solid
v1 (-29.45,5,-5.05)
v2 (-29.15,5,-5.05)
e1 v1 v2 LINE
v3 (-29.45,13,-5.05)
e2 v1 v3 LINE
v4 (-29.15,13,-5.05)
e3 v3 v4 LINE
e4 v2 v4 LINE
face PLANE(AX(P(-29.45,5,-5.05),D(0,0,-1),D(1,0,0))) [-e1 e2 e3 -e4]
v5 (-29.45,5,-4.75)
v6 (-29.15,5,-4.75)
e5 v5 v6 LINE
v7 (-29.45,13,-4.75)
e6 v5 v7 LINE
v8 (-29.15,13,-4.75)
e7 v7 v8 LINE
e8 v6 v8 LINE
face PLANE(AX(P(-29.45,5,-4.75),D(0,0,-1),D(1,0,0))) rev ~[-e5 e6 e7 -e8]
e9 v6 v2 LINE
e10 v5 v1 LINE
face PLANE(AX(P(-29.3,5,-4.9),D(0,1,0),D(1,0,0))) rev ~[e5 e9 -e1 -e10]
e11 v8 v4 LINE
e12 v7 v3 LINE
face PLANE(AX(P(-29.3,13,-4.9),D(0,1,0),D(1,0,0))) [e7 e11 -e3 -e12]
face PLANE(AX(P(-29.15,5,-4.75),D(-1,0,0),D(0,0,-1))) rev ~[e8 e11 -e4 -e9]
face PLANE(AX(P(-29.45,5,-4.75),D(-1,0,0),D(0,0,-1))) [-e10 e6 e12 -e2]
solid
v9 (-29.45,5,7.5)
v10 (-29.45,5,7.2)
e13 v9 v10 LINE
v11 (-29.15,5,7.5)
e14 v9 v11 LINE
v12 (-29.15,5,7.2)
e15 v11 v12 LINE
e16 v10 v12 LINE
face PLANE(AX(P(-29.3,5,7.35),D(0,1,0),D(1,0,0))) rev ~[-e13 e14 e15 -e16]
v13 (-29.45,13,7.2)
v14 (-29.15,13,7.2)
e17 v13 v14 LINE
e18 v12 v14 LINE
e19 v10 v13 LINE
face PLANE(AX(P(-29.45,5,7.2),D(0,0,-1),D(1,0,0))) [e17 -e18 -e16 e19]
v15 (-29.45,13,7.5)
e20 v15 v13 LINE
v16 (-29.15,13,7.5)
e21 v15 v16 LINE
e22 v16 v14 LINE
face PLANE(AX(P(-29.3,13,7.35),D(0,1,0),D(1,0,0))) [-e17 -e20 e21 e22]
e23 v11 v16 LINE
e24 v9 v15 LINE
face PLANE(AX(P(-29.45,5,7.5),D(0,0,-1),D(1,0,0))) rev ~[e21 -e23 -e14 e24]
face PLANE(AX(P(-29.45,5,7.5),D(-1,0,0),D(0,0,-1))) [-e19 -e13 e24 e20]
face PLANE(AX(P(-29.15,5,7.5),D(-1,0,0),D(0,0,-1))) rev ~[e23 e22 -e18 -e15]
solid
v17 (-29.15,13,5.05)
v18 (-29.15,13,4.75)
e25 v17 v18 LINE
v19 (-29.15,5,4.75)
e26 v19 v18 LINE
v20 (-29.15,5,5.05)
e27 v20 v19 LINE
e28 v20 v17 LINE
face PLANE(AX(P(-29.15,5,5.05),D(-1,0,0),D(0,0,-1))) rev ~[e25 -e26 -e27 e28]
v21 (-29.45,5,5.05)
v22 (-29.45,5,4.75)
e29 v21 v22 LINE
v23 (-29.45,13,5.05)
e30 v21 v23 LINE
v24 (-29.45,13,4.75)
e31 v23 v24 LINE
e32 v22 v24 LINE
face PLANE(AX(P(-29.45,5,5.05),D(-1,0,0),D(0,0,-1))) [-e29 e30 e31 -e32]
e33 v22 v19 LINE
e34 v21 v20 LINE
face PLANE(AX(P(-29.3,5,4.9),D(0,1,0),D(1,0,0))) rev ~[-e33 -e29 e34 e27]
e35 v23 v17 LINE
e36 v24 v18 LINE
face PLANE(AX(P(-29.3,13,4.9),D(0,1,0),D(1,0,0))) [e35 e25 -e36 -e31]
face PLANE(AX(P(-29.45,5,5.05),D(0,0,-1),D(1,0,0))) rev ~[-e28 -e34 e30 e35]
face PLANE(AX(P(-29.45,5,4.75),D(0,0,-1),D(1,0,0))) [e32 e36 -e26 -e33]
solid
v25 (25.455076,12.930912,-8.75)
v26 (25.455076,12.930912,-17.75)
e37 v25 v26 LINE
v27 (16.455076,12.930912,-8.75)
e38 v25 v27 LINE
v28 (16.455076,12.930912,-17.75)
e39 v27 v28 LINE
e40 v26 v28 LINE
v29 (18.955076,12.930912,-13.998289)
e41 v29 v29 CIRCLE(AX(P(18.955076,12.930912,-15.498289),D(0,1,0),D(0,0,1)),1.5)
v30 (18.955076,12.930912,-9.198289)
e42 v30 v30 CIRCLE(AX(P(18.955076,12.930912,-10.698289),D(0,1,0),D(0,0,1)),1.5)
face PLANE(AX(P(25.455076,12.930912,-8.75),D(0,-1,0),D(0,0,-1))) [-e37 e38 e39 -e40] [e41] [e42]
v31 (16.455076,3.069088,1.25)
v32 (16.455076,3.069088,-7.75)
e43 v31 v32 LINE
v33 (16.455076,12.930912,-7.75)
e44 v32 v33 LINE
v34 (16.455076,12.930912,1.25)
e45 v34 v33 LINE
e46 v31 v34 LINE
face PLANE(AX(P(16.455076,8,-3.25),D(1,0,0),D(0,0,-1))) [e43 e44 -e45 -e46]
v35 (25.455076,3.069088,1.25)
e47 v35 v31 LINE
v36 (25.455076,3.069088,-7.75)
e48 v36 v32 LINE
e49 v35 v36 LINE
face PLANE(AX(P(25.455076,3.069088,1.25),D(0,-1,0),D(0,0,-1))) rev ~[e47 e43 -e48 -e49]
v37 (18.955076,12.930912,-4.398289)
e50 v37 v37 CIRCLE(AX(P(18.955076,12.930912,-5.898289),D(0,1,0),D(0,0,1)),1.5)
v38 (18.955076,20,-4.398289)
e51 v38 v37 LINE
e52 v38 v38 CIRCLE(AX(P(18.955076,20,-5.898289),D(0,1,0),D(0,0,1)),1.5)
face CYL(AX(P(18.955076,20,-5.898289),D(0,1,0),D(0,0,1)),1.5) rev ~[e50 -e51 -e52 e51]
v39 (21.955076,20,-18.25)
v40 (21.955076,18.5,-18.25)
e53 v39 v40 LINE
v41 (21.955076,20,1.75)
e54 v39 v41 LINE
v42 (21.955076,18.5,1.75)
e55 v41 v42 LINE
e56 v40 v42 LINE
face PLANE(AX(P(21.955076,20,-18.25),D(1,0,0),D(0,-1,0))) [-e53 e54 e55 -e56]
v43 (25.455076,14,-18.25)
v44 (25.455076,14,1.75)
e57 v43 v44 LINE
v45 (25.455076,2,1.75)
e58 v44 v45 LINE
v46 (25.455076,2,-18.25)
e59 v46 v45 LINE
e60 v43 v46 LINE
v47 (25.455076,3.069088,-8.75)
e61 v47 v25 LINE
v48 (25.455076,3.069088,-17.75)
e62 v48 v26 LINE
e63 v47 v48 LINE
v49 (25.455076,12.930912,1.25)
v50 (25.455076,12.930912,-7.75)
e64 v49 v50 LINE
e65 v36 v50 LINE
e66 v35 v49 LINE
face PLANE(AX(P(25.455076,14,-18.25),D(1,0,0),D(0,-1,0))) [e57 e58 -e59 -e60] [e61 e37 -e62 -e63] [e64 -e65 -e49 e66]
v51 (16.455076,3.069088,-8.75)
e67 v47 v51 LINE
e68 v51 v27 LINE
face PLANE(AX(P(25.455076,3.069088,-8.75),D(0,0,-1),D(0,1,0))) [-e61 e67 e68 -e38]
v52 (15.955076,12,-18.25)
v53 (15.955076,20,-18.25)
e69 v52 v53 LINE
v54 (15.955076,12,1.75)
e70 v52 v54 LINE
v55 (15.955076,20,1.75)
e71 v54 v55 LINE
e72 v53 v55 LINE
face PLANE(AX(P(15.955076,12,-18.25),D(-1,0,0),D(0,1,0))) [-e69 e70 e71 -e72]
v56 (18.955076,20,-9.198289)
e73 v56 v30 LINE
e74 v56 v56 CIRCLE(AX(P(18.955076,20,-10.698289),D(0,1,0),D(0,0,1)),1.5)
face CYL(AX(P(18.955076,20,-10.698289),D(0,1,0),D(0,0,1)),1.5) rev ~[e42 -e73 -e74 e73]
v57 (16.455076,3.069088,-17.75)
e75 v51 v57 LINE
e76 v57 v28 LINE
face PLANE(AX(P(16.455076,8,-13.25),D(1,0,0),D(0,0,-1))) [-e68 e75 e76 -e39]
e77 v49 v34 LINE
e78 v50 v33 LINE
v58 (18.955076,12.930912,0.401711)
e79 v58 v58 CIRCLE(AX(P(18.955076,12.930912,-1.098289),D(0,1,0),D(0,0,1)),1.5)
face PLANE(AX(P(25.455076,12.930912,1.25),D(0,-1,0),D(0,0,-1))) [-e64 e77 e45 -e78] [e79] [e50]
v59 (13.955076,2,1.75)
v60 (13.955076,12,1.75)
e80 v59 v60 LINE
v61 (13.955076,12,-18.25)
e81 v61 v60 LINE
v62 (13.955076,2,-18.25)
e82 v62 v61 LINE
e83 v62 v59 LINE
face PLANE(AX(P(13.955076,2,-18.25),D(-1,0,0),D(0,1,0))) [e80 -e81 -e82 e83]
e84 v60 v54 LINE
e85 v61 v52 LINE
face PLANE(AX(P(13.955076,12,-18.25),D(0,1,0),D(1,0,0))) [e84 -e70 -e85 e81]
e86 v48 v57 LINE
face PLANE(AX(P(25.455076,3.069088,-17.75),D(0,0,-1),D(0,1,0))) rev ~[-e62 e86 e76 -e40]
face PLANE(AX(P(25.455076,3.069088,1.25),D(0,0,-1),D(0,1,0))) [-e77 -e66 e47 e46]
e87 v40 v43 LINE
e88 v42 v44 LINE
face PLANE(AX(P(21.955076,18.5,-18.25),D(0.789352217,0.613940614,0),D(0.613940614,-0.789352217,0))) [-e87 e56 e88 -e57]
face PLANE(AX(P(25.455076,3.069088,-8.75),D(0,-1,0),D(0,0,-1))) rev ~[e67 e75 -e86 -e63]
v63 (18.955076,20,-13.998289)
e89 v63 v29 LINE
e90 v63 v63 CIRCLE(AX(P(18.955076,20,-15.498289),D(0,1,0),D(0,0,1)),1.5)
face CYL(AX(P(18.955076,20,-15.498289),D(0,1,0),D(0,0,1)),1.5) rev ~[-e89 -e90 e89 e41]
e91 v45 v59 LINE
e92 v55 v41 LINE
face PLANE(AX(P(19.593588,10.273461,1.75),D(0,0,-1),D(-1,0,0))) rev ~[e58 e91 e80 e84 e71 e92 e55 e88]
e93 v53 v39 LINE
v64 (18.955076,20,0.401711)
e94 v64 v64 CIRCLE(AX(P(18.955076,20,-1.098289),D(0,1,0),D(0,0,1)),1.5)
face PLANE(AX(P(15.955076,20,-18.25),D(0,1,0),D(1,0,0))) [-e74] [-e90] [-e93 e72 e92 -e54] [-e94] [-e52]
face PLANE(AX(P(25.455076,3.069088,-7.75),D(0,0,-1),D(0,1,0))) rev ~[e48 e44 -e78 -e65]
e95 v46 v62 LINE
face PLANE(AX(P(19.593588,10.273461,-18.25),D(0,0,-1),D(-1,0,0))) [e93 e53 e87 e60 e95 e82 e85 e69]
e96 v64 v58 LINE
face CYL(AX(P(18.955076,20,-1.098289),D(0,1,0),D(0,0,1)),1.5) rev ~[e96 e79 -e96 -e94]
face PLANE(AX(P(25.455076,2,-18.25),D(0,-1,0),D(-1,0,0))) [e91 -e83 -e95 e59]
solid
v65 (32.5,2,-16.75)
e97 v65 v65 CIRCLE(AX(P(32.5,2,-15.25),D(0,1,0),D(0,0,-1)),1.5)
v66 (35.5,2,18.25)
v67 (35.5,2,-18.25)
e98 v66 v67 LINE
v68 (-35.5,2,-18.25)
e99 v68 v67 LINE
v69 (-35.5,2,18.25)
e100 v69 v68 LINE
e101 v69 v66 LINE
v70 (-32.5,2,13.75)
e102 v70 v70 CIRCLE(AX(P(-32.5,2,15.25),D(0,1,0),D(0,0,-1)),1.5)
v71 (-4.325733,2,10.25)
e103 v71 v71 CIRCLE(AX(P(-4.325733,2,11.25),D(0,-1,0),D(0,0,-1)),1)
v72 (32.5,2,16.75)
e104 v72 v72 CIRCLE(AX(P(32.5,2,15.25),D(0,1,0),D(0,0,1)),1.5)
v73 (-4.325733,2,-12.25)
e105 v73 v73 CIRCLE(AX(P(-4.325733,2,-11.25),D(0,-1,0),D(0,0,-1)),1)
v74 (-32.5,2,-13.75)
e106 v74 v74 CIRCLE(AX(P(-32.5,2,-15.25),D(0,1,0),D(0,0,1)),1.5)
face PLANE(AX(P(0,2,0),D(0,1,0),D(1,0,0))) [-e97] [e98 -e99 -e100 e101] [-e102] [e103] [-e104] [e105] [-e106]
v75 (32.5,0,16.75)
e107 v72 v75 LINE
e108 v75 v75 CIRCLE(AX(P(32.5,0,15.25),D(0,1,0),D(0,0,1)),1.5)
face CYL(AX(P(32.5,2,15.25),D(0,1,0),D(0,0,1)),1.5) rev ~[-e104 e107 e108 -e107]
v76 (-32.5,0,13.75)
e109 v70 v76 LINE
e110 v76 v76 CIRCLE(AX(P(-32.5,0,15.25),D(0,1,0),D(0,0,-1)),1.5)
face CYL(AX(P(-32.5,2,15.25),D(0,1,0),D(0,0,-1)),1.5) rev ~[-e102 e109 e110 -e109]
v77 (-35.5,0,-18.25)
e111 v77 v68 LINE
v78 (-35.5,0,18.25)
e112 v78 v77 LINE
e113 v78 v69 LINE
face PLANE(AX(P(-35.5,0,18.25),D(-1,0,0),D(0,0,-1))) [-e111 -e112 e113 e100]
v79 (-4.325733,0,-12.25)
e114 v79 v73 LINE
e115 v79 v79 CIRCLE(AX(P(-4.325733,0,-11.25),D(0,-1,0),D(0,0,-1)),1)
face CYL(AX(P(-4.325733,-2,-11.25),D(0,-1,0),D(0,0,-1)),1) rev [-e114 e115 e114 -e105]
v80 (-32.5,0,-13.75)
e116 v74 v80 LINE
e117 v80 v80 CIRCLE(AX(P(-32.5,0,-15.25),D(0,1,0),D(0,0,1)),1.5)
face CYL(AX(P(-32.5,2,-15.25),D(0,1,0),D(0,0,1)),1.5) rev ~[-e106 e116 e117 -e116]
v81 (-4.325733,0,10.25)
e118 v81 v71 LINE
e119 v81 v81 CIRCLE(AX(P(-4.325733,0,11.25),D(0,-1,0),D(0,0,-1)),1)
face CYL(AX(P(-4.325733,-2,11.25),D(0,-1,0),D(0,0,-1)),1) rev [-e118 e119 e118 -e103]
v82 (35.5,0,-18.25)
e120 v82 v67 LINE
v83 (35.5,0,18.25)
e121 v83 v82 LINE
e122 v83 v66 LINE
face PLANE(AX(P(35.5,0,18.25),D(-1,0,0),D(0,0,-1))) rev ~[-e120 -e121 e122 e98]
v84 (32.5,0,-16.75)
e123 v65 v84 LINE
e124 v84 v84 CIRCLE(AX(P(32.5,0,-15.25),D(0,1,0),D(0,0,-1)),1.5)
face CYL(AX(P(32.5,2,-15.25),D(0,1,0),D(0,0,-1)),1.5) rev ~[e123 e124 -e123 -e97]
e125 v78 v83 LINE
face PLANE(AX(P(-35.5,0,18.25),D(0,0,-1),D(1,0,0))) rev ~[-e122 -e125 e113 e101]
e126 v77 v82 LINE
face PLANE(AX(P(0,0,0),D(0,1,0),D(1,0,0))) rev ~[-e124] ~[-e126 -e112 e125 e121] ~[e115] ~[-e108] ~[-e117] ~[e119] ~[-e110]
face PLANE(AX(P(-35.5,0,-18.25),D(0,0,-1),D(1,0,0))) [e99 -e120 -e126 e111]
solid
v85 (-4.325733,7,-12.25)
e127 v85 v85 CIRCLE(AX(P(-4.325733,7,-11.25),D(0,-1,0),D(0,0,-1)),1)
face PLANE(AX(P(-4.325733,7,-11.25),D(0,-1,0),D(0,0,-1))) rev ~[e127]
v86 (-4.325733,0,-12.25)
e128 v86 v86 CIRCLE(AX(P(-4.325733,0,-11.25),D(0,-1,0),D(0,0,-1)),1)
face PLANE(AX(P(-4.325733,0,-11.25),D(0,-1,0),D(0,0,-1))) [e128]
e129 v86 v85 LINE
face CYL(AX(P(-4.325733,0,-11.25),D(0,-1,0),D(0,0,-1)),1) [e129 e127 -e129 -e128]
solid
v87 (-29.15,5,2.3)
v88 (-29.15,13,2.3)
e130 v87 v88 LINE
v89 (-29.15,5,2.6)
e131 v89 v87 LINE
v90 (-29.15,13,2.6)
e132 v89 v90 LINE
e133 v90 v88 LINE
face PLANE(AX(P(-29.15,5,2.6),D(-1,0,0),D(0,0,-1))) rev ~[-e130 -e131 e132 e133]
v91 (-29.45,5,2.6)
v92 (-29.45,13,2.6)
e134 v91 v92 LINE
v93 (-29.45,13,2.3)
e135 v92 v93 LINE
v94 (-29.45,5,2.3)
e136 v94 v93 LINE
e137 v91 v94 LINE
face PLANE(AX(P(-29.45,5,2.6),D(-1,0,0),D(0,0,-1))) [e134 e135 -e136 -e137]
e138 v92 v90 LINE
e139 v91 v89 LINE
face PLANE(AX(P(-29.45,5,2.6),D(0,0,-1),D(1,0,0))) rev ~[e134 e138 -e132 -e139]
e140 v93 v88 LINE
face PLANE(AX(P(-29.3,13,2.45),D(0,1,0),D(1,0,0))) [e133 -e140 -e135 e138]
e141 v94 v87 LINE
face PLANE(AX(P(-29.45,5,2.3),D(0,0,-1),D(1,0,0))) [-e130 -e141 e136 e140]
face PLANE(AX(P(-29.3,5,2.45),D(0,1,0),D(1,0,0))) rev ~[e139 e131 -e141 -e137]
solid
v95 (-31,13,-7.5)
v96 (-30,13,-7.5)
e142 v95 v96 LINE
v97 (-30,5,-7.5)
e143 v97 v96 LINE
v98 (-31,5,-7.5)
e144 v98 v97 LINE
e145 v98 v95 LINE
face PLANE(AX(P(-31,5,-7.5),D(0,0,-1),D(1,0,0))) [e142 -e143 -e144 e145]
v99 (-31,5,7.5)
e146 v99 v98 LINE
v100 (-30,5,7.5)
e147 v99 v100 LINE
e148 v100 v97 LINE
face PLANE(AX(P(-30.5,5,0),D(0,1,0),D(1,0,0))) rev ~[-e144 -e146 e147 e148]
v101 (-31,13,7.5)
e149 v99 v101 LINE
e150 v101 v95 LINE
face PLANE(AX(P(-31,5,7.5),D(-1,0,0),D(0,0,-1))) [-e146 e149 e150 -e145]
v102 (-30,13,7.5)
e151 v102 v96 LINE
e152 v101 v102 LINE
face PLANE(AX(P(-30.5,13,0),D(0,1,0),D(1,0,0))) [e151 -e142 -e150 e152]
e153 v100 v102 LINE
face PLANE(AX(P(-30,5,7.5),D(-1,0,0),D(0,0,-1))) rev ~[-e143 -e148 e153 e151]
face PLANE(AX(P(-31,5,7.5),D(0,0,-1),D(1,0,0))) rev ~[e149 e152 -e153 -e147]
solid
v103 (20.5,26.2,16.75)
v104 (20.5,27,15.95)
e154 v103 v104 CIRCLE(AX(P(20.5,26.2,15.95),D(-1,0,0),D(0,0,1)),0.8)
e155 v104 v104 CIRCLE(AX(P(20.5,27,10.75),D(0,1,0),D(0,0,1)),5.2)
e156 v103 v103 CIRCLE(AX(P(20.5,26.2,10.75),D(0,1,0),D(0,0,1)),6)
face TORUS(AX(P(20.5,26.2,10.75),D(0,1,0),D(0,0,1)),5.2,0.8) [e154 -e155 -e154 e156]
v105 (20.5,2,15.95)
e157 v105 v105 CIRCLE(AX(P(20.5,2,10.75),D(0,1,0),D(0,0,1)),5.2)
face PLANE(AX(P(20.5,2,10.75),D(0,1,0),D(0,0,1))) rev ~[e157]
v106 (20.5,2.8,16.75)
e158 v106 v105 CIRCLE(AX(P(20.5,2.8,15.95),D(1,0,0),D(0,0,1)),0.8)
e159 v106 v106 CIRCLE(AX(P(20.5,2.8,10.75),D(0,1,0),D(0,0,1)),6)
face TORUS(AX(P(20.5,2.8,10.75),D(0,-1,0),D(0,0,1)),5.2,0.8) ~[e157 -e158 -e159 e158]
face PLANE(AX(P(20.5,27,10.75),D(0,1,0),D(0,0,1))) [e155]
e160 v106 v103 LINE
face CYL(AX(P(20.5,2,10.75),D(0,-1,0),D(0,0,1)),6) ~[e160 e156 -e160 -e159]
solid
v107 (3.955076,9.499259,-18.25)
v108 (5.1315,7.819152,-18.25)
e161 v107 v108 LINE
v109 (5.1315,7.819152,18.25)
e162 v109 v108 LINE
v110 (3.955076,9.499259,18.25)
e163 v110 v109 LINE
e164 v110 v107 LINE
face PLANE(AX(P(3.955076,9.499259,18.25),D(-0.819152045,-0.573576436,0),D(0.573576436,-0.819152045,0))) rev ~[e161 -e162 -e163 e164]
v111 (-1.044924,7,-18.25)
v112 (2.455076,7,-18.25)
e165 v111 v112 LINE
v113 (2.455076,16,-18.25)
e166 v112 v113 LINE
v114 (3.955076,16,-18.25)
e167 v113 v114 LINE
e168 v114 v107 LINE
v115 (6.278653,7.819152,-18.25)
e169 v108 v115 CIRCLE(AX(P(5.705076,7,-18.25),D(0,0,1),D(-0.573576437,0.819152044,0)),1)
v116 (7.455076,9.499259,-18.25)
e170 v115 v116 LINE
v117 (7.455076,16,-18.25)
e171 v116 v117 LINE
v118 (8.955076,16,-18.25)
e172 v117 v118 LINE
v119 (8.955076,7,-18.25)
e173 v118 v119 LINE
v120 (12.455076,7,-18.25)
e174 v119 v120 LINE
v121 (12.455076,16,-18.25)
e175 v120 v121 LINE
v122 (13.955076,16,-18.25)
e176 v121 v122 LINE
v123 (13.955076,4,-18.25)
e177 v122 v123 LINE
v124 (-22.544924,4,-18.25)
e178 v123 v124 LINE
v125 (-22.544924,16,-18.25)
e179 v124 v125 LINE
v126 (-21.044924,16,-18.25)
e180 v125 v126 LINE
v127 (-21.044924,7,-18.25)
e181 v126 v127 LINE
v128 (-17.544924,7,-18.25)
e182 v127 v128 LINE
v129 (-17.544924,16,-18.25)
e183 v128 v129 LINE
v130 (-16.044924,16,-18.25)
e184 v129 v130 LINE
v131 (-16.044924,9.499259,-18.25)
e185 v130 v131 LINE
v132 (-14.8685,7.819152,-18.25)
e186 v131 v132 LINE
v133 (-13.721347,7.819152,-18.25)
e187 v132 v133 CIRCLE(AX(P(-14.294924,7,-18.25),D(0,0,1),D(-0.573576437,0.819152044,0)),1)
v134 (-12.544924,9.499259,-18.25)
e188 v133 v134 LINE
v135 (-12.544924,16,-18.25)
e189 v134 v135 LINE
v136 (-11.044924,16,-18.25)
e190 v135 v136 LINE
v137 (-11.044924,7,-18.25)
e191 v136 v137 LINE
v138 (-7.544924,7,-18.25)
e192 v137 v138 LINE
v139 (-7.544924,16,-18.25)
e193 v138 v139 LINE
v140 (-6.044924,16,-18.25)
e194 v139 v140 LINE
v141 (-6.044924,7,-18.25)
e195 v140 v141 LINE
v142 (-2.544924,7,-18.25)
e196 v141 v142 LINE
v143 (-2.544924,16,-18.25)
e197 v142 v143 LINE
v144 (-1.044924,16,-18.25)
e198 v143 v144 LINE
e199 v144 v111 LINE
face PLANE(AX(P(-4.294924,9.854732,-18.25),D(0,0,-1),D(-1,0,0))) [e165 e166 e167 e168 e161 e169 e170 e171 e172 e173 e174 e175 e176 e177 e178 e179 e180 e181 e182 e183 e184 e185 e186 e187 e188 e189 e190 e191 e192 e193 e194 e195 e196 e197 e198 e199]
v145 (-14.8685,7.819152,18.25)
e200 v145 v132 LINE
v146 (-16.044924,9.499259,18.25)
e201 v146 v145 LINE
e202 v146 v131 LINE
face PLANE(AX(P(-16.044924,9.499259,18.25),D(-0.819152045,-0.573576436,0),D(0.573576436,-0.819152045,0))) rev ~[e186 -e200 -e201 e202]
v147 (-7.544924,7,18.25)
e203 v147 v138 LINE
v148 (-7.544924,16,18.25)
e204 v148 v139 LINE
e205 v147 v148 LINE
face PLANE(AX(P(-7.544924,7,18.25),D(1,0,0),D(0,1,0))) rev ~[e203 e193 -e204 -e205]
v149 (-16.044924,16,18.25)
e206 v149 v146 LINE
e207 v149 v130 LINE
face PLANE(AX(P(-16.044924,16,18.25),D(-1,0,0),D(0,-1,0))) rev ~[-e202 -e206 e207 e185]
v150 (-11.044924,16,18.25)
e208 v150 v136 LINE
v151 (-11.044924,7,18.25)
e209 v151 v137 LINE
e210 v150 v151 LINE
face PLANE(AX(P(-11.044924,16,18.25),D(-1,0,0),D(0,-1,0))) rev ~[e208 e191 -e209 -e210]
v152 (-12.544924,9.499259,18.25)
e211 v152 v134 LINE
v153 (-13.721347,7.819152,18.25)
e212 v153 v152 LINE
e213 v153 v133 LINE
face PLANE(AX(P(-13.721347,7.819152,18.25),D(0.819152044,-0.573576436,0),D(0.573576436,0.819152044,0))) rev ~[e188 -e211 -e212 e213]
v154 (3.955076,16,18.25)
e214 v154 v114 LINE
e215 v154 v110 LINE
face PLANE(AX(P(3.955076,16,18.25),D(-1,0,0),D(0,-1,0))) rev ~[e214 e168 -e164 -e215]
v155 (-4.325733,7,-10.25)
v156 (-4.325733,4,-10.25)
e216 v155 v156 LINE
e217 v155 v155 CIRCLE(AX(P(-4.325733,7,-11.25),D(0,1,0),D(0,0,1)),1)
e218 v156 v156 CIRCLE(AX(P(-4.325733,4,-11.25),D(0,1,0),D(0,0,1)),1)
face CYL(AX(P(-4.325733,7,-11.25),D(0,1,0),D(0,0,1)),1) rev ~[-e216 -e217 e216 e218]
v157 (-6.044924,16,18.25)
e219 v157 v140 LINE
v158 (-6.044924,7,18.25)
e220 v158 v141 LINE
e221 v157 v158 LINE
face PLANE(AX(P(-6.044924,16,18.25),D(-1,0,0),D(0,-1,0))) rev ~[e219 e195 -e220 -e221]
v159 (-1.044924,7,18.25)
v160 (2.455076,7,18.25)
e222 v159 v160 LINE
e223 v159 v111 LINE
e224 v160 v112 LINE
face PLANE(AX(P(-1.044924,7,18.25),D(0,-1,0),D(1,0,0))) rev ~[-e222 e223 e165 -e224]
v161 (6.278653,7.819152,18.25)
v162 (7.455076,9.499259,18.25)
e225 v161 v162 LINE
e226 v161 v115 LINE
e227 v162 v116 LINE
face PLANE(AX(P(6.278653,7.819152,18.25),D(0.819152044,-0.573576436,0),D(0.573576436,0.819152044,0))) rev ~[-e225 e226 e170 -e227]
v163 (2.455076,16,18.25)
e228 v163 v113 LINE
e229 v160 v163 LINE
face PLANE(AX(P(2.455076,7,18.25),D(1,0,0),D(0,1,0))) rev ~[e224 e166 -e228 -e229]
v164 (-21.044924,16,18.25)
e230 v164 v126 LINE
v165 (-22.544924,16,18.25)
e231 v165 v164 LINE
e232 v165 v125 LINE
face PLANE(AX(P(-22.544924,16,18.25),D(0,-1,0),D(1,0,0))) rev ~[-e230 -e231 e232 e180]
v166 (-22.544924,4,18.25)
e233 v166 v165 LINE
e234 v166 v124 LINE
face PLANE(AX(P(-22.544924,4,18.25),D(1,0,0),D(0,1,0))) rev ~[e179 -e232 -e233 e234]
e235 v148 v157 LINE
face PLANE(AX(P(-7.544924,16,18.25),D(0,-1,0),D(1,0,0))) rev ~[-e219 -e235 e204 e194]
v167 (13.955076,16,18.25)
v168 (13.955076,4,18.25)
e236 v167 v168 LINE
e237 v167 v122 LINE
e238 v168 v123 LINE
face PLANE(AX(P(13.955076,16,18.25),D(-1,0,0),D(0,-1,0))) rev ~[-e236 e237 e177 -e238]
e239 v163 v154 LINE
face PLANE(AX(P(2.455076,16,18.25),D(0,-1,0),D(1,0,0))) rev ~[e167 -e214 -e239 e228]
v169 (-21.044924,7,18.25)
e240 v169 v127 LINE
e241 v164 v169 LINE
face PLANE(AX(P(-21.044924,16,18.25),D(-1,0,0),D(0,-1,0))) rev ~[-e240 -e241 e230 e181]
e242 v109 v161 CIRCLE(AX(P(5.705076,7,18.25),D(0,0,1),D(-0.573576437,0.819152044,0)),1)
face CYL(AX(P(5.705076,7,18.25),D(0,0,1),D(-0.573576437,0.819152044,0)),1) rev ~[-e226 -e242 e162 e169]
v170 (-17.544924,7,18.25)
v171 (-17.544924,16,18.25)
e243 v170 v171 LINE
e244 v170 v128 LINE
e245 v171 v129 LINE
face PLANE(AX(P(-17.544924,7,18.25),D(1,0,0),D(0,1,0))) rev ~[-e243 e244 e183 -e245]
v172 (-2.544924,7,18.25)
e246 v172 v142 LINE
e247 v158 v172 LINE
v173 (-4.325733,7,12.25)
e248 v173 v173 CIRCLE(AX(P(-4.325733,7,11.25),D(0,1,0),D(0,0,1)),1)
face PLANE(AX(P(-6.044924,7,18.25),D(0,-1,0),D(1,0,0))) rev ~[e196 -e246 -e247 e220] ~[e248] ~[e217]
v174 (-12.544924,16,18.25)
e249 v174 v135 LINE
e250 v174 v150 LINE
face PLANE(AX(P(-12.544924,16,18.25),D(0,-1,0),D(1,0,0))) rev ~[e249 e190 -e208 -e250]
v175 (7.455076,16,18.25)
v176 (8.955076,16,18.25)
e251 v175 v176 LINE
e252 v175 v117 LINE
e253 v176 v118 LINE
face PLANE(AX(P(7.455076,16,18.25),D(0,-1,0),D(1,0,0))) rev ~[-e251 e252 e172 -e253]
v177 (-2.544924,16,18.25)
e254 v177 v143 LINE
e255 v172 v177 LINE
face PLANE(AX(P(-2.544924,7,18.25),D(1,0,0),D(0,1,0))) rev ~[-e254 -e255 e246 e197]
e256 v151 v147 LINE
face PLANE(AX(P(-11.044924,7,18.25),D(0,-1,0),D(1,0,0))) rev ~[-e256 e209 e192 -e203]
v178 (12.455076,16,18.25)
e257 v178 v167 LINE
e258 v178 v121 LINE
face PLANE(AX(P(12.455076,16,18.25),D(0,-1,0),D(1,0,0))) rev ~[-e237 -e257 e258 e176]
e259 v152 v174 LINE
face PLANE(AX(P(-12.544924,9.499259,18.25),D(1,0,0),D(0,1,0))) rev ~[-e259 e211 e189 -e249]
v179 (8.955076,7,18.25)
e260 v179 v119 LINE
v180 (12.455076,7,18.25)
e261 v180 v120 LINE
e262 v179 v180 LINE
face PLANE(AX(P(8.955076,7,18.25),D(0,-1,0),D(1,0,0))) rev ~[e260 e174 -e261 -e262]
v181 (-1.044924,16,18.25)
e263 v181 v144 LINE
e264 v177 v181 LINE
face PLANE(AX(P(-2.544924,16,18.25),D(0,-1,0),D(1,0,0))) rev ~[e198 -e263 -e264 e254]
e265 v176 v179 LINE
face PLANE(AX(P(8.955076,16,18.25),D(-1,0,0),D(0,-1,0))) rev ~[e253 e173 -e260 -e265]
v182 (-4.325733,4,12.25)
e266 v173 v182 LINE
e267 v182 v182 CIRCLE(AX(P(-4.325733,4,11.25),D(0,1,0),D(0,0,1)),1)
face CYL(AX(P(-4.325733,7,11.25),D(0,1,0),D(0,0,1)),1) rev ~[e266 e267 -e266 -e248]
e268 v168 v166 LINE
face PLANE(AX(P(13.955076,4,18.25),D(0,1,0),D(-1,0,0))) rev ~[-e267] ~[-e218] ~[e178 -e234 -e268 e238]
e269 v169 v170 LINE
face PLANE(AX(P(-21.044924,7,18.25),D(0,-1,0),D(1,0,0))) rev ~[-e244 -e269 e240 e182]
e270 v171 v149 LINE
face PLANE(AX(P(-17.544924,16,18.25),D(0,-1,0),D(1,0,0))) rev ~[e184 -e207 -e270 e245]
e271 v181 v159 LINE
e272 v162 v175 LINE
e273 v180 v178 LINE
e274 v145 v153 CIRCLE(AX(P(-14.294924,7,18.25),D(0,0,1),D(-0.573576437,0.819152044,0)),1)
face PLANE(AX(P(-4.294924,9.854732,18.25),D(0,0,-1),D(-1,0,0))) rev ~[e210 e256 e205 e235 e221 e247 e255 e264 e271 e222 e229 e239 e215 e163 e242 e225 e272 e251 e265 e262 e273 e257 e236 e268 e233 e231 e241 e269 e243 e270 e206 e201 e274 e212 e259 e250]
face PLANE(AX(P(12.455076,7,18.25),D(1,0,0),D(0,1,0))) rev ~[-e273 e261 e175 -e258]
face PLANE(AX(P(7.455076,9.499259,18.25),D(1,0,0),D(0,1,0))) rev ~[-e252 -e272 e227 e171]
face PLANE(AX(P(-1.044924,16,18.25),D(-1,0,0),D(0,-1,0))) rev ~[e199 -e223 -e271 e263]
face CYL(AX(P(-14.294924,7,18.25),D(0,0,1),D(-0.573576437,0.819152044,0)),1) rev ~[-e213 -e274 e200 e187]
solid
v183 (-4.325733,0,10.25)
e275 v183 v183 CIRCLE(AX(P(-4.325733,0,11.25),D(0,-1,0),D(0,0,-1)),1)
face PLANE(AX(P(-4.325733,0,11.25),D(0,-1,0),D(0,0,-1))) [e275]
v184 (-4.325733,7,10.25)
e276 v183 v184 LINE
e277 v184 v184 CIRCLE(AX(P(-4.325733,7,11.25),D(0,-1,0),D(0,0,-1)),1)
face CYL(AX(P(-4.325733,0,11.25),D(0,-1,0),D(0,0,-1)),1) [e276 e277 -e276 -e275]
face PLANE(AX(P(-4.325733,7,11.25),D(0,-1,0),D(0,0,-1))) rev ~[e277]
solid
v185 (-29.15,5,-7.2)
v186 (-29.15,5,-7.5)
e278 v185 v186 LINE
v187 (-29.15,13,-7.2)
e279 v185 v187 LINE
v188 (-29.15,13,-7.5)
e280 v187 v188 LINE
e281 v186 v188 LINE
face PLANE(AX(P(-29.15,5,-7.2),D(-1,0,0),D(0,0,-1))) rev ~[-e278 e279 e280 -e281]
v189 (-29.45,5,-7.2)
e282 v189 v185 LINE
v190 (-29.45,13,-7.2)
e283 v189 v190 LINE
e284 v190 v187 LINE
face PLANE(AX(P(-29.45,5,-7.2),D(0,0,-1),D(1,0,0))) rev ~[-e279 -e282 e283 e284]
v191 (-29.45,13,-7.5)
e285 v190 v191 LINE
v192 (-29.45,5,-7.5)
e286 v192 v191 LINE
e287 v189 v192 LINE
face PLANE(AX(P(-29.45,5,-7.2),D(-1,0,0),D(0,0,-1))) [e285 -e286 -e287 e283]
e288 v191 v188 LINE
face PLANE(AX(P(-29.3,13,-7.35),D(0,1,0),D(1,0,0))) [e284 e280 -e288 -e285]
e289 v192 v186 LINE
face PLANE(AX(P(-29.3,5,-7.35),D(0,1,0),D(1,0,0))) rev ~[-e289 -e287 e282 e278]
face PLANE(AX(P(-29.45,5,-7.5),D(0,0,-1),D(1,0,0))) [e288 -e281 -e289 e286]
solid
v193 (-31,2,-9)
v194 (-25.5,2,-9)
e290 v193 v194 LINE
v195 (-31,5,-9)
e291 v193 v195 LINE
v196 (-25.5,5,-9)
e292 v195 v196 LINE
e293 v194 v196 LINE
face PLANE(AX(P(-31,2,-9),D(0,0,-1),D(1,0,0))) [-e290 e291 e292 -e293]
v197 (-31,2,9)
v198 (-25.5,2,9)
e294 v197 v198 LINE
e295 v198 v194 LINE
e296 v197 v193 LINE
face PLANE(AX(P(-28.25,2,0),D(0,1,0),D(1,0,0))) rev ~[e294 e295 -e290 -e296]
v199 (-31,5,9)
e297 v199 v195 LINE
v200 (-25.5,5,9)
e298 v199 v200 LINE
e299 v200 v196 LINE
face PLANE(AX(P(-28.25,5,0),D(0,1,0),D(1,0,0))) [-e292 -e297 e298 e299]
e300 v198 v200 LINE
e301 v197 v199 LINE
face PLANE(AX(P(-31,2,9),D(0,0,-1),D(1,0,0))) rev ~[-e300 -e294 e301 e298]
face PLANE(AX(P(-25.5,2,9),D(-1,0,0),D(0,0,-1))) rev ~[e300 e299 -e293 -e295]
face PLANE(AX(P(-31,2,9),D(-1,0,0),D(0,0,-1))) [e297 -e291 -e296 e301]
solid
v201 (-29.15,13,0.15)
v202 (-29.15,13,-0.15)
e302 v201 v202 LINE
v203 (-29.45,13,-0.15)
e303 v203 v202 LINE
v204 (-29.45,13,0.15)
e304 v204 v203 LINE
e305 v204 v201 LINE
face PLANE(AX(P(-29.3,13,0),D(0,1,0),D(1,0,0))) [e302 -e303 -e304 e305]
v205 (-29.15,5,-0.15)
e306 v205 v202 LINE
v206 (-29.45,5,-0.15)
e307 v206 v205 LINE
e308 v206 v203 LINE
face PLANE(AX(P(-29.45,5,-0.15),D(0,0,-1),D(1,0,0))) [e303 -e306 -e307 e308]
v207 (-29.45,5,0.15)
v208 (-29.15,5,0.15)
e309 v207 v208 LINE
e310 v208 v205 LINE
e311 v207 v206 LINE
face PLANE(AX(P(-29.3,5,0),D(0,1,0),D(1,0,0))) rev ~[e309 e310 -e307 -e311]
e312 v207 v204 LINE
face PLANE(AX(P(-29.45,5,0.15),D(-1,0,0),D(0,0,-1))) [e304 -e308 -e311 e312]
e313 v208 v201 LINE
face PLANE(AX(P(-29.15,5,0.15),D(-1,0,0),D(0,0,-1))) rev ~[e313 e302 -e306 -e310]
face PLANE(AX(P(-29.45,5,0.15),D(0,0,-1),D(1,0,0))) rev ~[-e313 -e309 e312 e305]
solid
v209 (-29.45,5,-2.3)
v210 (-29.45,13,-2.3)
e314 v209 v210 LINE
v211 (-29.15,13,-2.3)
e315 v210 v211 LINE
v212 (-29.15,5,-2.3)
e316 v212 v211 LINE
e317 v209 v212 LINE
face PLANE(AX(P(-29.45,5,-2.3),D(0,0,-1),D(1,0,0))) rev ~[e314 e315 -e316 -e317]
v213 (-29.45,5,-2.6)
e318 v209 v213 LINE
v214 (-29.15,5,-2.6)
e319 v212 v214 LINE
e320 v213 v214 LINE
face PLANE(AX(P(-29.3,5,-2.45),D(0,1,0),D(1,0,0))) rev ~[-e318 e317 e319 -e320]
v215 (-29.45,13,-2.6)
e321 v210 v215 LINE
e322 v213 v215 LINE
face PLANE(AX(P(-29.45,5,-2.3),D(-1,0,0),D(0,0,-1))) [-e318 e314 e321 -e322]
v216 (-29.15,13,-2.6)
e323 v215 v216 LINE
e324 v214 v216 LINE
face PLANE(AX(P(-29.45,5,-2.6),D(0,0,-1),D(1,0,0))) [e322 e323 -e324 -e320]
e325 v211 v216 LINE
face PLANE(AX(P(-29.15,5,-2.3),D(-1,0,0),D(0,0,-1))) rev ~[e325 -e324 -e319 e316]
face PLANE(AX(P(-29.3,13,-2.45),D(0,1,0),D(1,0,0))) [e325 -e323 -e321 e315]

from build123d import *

# Parameters (mm, degrees)
SKETCH1_W             = 71
SKETCH1_H             = 36.5
BOARD_DEPTH           = 2
SKETCH2_R             = 1.5
SCREW_HOLES_DEPTH     = 2
FINS_DEPTH            = 36.5
SKETCH4_R             = 6
CAPACITOR_DEPTH       = 25
CAPACITOR_FILLET_R    = 0.8
FIN_SCREW_DEPTH       = 13
FIN_SCREW_DEPTH_BACK  = 4
SKETCH5_R             = 1
SKETCH7_R             = 1
FIN_SCREW_2_DEPTH     = 4
SKETCH8_W             = 5.5
SKETCH8_H             = 18
PIN_BASE_DEPTH        = 3
SKETCH9_W             = 1
SKETCH9_H             = 15
BOSS_EXTRUDE6_DEPTH   = 8
SKETCH10_W            = 0.3
SKETCH10_H            = 0.3
BOSS_EXTRUDE7_DEPTH   = 8
BOSS_EXTRUDE7_2_DEPTH = 8
BOSS_EXTRUDE7_3_DEPTH = 8
BOSS_EXTRUDE7_4_DEPTH = 8
BOSS_EXTRUDE7_5_DEPTH = 8
BOSS_EXTRUDE7_6_DEPTH = 8
BOSS_EXTRUDE7_7_DEPTH = 8
SKETCH11_R            = 1
BOSS_EXTRUDE8_DEPTH   = 7
BOSS_EXTRUDE8_2_DEPTH = 7
BOSS_EXTRUDE9_DEPTH   = 20
SKETCH13_W            = 9
SKETCH13_H            = 9.8618237
CUT_EXTRUDE1_DEPTH    = 9
SKETCH14_R            = 1.5
CUT_EXTRUDE2_DEPTH    = 9


with BuildPart() as part:
    # Sketch1 → Board (new body)
    with BuildSketch(Plane(origin=(0, 0, 0), x_dir=(1, 0, 0), z_dir=(0, 1, 0))):
        Rectangle(SKETCH1_W, SKETCH1_H)
    extrude(amount=BOARD_DEPTH)

    # Sketch2 → Screw Holes (cut)
    with BuildSketch(Plane(origin=(0, 2, 0), x_dir=(1, 0, 0), z_dir=(0, 1, 0))):
        with Locations(Location((-32.5, 15.25, 0), (0, 0, 270))):
            Circle(SKETCH2_R)
        with Locations(Location((32.5, 15.25, 0), (0, 0, 90))):
            Circle(SKETCH2_R)
        with Locations(Location((32.5, -15.25, 0), (0, 0, 270))):
            Circle(SKETCH2_R)
        with Locations(Location((-32.5, -15.25, 0), (0, 0, 90))):
            Circle(SKETCH2_R)
    extrude(amount=-SCREW_HOLES_DEPTH, mode=Mode.SUBTRACT)

    # Sketch5 → Fin Screw (cut, two sides: drawn at the far end of the back side and taken through both)
    with BuildSketch(Plane(origin=(0, 2, 0), x_dir=(1, 0, 0), z_dir=(0, 1, 0)).offset(-FIN_SCREW_DEPTH_BACK)):
        with Locations(Location((-4.325732544, 11.25, 0), (0, 0, 90))):
            Circle(SKETCH5_R)
        with Locations(Location((-4.325732544, -11.25, 0), (0, 0, 90))):
            Circle(SKETCH5_R)
    extrude(amount=FIN_SCREW_DEPTH + FIN_SCREW_DEPTH_BACK, mode=Mode.SUBTRACT)


with BuildPart() as body_2:
    # Sketch3 → Fins (new body)
    with BuildSketch(Plane.XY.offset(18.25)):
        with BuildLine():
            ThreePointArc((5.131499935, 7.819152044), (5.705076372, 6), (6.278652808, 7.819152044))
            Line((6.278652808, 7.819152044), (7.455076372, 9.499259012))
            Line((7.455076372, 9.499259012), (7.455076372, 16))
            Line((7.455076372, 16), (8.955076372, 16))
            Line((8.955076372, 16), (8.955076372, 7))
            Line((8.955076372, 7), (12.455076372, 7))
            Line((12.455076372, 7), (12.455076372, 16))
            Line((12.455076372, 16), (13.955076372, 16))
            Line((13.955076372, 16), (13.955076372, 4))
            Line((13.955076372, 4), (-22.544923628, 4))
            Line((-22.544923628, 4), (-22.544923628, 16))
            Line((-22.544923628, 16), (-21.044923628, 16))
            Line((-21.044923628, 16), (-21.044923628, 7))
            Line((-21.044923628, 7), (-17.544923628, 7))
            Line((-17.544923628, 7), (-17.544923628, 16))
            Line((-17.544923628, 16), (-16.044923628, 16))
            Line((-16.044923628, 16), (-16.044923628, 9.499259012))
            Line((-16.044923628, 9.499259012), (-14.868500065, 7.819152044))
            ThreePointArc((-14.868500065, 7.819152044), (-14.294923628, 6), (-13.721347192, 7.819152044))
            Line((-13.721347192, 7.819152044), (-12.544923628, 9.499259012))
            Line((-12.544923628, 9.499259012), (-12.544923628, 16))
            Line((-12.544923628, 16), (-11.044923628, 16))
            Line((-11.044923628, 16), (-11.044923628, 7))
            Line((-11.044923628, 7), (-7.544923628, 7))
            Line((-7.544923628, 7), (-7.544923628, 16))
            Line((-7.544923628, 16), (-6.044923628, 16))
            Line((-6.044923628, 16), (-6.044923628, 7))
            Line((-6.044923628, 7), (-2.544923628, 7))
            Line((-2.544923628, 7), (-2.544923628, 16))
            Line((-2.544923628, 16), (-1.044923628, 16))
            Line((-1.044923628, 16), (-1.044923628, 7))
            Line((-1.044923628, 7), (2.455076372, 7))
            Line((2.455076372, 7), (2.455076372, 16))
            Line((2.455076372, 16), (3.955076372, 16))
            Line((3.955076372, 16), (3.955076372, 9.499259012))
            Line((3.955076372, 9.499259012), (5.131499935, 7.819152044))
        make_face()
    extrude(amount=-FINS_DEPTH)

    # Sketch7 → Fin Screw 2 (cut)
    with BuildSketch(Plane(origin=(0, 7, 0), x_dir=(1, 0, 0), z_dir=(0, 1, 0))):
        with Locations(Location((-4.325732544, -11.25, 0), (0, 0, 270))):
            Circle(SKETCH7_R)
        with Locations(Location((-4.325732544, 11.25, 0), (0, 0, 270))):
            Circle(SKETCH7_R)
    extrude(amount=-FIN_SCREW_2_DEPTH, mode=Mode.SUBTRACT)


with BuildPart() as body_3:
    # Sketch4 → capacitor (new body)
    with BuildSketch(Plane(origin=(0, 2, 0), x_dir=(1, 0, 0), z_dir=(0, 1, 0))):
        with Locations(Location((20.5, -10.75, 0), (0, 0, 270))):
            Circle(SKETCH4_R)
    extrude(amount=CAPACITOR_DEPTH)

    # capacitor fillet
    capacitor_fillet_edges = [body_3.edges().sort_by_distance(p)[0] for p in [
        (20.5, 2, 4.75),
        (20.5, 27, 4.75),
    ]]
    fillet(capacitor_fillet_edges, radius=CAPACITOR_FILLET_R)


with BuildPart() as body_4:
    # Sketch8 → Pin Base (new body)
    with BuildSketch(Plane(origin=(0, 2, 0), x_dir=(1, 0, 0), z_dir=(0, 1, 0))):
        with Locations((-28.25, 0)):
            Rectangle(SKETCH8_W, SKETCH8_H)
    extrude(amount=PIN_BASE_DEPTH)


with BuildPart() as body_5:
    # Sketch9 → Boss-Extrude6 (new body)
    with BuildSketch(Plane(origin=(0, 5, 0), x_dir=(1, 0, 0), z_dir=(0, 1, 0))):
        with Locations((-30.5, 0)):
            Rectangle(SKETCH9_W, SKETCH9_H)
    extrude(amount=BOSS_EXTRUDE6_DEPTH)


with BuildPart() as body_6:
    # Sketch10 → Boss-Extrude7 (new body)
    with BuildSketch(Plane(origin=(0, 5, 0), x_dir=(1, 0, 0), z_dir=(0, 1, 0))):
        with Locations((-29.3, -7.35)):
            Rectangle(SKETCH10_W, SKETCH10_H)
    extrude(amount=BOSS_EXTRUDE7_DEPTH)


with BuildPart() as body_7:
    # Sketch10 → Boss-Extrude7 2 (new body)
    with BuildSketch(Plane(origin=(0, 5, 0), x_dir=(1, 0, 0), z_dir=(0, 1, 0))):
        with Locations((-29.3, -4.9)):
            Rectangle(SKETCH10_W, SKETCH10_H)
    extrude(amount=BOSS_EXTRUDE7_2_DEPTH)


with BuildPart() as body_8:
    # Sketch10 → Boss-Extrude7 3 (new body)
    with BuildSketch(Plane(origin=(0, 5, 0), x_dir=(1, 0, 0), z_dir=(0, 1, 0))):
        with Locations((-29.3, -2.45)):
            Rectangle(SKETCH10_W, SKETCH10_H)
    extrude(amount=BOSS_EXTRUDE7_3_DEPTH)


with BuildPart() as body_9:
    # Sketch10 → Boss-Extrude7 4 (new body)
    with BuildSketch(Plane(origin=(0, 5, 0), x_dir=(1, 0, 0), z_dir=(0, 1, 0))):
        with Locations((-29.3, 0)):
            Rectangle(SKETCH10_W, SKETCH10_H)
    extrude(amount=BOSS_EXTRUDE7_4_DEPTH)


with BuildPart() as body_10:
    # Sketch10 → Boss-Extrude7 5 (new body)
    with BuildSketch(Plane(origin=(0, 5, 0), x_dir=(1, 0, 0), z_dir=(0, 1, 0))):
        with Locations((-29.3, 2.45)):
            Rectangle(SKETCH10_W, SKETCH10_H)
    extrude(amount=BOSS_EXTRUDE7_5_DEPTH)


with BuildPart() as body_11:
    # Sketch10 → Boss-Extrude7 6 (new body)
    with BuildSketch(Plane(origin=(0, 5, 0), x_dir=(1, 0, 0), z_dir=(0, 1, 0))):
        with Locations((-29.3, 4.9)):
            Rectangle(SKETCH10_W, SKETCH10_H)
    extrude(amount=BOSS_EXTRUDE7_6_DEPTH)


with BuildPart() as body_12:
    # Sketch10 → Boss-Extrude7 7 (new body)
    with BuildSketch(Plane(origin=(0, 5, 0), x_dir=(1, 0, 0), z_dir=(0, 1, 0))):
        with Locations((-29.3, 7.35)):
            Rectangle(SKETCH10_W, SKETCH10_H)
    extrude(amount=BOSS_EXTRUDE7_7_DEPTH)


with BuildPart() as body_13:
    # Sketch11 → Boss-Extrude8 (new body)
    with BuildSketch(Plane.XZ):
        with Locations(Location((-4.325732544, -11.25, 0), (0, 0, 270))):
            Circle(SKETCH11_R)
    extrude(amount=-BOSS_EXTRUDE8_DEPTH)


with BuildPart() as body_14:
    # Sketch11 → Boss-Extrude8 2 (new body)
    with BuildSketch(Plane.XZ):
        with Locations(Location((-4.325732544, 11.25, 0), (0, 0, 270))):
            Circle(SKETCH11_R)
    extrude(amount=-BOSS_EXTRUDE8_2_DEPTH)


with BuildPart() as body_15:
    # Sketch12 → Boss-Extrude9 (new body)
    with BuildSketch(Plane(origin=(0, 0, -18.25), x_dir=(-1, 0, 0), z_dir=(0, 0, -1))):
        Polygon((-13.955076372, 2), (-13.955076372, 12), (-15.955076372, 12), (-15.955076372, 20), (-21.955076372, 20), (-21.955076372, 18.5), (-25.455076372, 14), (-25.455076372, 2), align=None)
    extrude(amount=-BOSS_EXTRUDE9_DEPTH)

    # Sketch13 → Cut-Extrude1 (cut)
    with BuildSketch(Plane(origin=(25.455076372, 0, 0), x_dir=(0, 0, -1), z_dir=(1, 0, 0))):
        with Locations((13.25, 8)):
            Rectangle(SKETCH13_W, SKETCH13_H)
        with Locations((3.25, 8)):
            Rectangle(SKETCH13_W, SKETCH13_H)
    extrude(amount=-CUT_EXTRUDE1_DEPTH, mode=Mode.SUBTRACT)

    # Sketch14 → Cut-Extrude2 (cut)
    with BuildSketch(Plane(origin=(0, 20, 0), x_dir=(1, 0, 0), z_dir=(0, 1, 0))):
        with Locations(Location((18.955076372, 15.498289318, 0), (0, 0, 270))):
            Circle(SKETCH14_R)
        with Locations(Location((18.955076372, 10.698289318, 0), (0, 0, 270))):
            Circle(SKETCH14_R)
        with Locations(Location((18.955076372, 5.898289318, 0), (0, 0, 270))):
            Circle(SKETCH14_R)
        with Locations(Location((18.955076372, 1.098289318, 0), (0, 0, 270))):
            Circle(SKETCH14_R)
    extrude(amount=-CUT_EXTRUDE2_DEPTH, mode=Mode.SUBTRACT)


solid = Compound([part.part, body_2.part, body_3.part, body_4.part, body_5.part, body_6.part, body_7.part, body_8.part, body_9.part, body_10.part, body_11.part, body_12.part, body_13.part, body_14.part, body_15.part])
